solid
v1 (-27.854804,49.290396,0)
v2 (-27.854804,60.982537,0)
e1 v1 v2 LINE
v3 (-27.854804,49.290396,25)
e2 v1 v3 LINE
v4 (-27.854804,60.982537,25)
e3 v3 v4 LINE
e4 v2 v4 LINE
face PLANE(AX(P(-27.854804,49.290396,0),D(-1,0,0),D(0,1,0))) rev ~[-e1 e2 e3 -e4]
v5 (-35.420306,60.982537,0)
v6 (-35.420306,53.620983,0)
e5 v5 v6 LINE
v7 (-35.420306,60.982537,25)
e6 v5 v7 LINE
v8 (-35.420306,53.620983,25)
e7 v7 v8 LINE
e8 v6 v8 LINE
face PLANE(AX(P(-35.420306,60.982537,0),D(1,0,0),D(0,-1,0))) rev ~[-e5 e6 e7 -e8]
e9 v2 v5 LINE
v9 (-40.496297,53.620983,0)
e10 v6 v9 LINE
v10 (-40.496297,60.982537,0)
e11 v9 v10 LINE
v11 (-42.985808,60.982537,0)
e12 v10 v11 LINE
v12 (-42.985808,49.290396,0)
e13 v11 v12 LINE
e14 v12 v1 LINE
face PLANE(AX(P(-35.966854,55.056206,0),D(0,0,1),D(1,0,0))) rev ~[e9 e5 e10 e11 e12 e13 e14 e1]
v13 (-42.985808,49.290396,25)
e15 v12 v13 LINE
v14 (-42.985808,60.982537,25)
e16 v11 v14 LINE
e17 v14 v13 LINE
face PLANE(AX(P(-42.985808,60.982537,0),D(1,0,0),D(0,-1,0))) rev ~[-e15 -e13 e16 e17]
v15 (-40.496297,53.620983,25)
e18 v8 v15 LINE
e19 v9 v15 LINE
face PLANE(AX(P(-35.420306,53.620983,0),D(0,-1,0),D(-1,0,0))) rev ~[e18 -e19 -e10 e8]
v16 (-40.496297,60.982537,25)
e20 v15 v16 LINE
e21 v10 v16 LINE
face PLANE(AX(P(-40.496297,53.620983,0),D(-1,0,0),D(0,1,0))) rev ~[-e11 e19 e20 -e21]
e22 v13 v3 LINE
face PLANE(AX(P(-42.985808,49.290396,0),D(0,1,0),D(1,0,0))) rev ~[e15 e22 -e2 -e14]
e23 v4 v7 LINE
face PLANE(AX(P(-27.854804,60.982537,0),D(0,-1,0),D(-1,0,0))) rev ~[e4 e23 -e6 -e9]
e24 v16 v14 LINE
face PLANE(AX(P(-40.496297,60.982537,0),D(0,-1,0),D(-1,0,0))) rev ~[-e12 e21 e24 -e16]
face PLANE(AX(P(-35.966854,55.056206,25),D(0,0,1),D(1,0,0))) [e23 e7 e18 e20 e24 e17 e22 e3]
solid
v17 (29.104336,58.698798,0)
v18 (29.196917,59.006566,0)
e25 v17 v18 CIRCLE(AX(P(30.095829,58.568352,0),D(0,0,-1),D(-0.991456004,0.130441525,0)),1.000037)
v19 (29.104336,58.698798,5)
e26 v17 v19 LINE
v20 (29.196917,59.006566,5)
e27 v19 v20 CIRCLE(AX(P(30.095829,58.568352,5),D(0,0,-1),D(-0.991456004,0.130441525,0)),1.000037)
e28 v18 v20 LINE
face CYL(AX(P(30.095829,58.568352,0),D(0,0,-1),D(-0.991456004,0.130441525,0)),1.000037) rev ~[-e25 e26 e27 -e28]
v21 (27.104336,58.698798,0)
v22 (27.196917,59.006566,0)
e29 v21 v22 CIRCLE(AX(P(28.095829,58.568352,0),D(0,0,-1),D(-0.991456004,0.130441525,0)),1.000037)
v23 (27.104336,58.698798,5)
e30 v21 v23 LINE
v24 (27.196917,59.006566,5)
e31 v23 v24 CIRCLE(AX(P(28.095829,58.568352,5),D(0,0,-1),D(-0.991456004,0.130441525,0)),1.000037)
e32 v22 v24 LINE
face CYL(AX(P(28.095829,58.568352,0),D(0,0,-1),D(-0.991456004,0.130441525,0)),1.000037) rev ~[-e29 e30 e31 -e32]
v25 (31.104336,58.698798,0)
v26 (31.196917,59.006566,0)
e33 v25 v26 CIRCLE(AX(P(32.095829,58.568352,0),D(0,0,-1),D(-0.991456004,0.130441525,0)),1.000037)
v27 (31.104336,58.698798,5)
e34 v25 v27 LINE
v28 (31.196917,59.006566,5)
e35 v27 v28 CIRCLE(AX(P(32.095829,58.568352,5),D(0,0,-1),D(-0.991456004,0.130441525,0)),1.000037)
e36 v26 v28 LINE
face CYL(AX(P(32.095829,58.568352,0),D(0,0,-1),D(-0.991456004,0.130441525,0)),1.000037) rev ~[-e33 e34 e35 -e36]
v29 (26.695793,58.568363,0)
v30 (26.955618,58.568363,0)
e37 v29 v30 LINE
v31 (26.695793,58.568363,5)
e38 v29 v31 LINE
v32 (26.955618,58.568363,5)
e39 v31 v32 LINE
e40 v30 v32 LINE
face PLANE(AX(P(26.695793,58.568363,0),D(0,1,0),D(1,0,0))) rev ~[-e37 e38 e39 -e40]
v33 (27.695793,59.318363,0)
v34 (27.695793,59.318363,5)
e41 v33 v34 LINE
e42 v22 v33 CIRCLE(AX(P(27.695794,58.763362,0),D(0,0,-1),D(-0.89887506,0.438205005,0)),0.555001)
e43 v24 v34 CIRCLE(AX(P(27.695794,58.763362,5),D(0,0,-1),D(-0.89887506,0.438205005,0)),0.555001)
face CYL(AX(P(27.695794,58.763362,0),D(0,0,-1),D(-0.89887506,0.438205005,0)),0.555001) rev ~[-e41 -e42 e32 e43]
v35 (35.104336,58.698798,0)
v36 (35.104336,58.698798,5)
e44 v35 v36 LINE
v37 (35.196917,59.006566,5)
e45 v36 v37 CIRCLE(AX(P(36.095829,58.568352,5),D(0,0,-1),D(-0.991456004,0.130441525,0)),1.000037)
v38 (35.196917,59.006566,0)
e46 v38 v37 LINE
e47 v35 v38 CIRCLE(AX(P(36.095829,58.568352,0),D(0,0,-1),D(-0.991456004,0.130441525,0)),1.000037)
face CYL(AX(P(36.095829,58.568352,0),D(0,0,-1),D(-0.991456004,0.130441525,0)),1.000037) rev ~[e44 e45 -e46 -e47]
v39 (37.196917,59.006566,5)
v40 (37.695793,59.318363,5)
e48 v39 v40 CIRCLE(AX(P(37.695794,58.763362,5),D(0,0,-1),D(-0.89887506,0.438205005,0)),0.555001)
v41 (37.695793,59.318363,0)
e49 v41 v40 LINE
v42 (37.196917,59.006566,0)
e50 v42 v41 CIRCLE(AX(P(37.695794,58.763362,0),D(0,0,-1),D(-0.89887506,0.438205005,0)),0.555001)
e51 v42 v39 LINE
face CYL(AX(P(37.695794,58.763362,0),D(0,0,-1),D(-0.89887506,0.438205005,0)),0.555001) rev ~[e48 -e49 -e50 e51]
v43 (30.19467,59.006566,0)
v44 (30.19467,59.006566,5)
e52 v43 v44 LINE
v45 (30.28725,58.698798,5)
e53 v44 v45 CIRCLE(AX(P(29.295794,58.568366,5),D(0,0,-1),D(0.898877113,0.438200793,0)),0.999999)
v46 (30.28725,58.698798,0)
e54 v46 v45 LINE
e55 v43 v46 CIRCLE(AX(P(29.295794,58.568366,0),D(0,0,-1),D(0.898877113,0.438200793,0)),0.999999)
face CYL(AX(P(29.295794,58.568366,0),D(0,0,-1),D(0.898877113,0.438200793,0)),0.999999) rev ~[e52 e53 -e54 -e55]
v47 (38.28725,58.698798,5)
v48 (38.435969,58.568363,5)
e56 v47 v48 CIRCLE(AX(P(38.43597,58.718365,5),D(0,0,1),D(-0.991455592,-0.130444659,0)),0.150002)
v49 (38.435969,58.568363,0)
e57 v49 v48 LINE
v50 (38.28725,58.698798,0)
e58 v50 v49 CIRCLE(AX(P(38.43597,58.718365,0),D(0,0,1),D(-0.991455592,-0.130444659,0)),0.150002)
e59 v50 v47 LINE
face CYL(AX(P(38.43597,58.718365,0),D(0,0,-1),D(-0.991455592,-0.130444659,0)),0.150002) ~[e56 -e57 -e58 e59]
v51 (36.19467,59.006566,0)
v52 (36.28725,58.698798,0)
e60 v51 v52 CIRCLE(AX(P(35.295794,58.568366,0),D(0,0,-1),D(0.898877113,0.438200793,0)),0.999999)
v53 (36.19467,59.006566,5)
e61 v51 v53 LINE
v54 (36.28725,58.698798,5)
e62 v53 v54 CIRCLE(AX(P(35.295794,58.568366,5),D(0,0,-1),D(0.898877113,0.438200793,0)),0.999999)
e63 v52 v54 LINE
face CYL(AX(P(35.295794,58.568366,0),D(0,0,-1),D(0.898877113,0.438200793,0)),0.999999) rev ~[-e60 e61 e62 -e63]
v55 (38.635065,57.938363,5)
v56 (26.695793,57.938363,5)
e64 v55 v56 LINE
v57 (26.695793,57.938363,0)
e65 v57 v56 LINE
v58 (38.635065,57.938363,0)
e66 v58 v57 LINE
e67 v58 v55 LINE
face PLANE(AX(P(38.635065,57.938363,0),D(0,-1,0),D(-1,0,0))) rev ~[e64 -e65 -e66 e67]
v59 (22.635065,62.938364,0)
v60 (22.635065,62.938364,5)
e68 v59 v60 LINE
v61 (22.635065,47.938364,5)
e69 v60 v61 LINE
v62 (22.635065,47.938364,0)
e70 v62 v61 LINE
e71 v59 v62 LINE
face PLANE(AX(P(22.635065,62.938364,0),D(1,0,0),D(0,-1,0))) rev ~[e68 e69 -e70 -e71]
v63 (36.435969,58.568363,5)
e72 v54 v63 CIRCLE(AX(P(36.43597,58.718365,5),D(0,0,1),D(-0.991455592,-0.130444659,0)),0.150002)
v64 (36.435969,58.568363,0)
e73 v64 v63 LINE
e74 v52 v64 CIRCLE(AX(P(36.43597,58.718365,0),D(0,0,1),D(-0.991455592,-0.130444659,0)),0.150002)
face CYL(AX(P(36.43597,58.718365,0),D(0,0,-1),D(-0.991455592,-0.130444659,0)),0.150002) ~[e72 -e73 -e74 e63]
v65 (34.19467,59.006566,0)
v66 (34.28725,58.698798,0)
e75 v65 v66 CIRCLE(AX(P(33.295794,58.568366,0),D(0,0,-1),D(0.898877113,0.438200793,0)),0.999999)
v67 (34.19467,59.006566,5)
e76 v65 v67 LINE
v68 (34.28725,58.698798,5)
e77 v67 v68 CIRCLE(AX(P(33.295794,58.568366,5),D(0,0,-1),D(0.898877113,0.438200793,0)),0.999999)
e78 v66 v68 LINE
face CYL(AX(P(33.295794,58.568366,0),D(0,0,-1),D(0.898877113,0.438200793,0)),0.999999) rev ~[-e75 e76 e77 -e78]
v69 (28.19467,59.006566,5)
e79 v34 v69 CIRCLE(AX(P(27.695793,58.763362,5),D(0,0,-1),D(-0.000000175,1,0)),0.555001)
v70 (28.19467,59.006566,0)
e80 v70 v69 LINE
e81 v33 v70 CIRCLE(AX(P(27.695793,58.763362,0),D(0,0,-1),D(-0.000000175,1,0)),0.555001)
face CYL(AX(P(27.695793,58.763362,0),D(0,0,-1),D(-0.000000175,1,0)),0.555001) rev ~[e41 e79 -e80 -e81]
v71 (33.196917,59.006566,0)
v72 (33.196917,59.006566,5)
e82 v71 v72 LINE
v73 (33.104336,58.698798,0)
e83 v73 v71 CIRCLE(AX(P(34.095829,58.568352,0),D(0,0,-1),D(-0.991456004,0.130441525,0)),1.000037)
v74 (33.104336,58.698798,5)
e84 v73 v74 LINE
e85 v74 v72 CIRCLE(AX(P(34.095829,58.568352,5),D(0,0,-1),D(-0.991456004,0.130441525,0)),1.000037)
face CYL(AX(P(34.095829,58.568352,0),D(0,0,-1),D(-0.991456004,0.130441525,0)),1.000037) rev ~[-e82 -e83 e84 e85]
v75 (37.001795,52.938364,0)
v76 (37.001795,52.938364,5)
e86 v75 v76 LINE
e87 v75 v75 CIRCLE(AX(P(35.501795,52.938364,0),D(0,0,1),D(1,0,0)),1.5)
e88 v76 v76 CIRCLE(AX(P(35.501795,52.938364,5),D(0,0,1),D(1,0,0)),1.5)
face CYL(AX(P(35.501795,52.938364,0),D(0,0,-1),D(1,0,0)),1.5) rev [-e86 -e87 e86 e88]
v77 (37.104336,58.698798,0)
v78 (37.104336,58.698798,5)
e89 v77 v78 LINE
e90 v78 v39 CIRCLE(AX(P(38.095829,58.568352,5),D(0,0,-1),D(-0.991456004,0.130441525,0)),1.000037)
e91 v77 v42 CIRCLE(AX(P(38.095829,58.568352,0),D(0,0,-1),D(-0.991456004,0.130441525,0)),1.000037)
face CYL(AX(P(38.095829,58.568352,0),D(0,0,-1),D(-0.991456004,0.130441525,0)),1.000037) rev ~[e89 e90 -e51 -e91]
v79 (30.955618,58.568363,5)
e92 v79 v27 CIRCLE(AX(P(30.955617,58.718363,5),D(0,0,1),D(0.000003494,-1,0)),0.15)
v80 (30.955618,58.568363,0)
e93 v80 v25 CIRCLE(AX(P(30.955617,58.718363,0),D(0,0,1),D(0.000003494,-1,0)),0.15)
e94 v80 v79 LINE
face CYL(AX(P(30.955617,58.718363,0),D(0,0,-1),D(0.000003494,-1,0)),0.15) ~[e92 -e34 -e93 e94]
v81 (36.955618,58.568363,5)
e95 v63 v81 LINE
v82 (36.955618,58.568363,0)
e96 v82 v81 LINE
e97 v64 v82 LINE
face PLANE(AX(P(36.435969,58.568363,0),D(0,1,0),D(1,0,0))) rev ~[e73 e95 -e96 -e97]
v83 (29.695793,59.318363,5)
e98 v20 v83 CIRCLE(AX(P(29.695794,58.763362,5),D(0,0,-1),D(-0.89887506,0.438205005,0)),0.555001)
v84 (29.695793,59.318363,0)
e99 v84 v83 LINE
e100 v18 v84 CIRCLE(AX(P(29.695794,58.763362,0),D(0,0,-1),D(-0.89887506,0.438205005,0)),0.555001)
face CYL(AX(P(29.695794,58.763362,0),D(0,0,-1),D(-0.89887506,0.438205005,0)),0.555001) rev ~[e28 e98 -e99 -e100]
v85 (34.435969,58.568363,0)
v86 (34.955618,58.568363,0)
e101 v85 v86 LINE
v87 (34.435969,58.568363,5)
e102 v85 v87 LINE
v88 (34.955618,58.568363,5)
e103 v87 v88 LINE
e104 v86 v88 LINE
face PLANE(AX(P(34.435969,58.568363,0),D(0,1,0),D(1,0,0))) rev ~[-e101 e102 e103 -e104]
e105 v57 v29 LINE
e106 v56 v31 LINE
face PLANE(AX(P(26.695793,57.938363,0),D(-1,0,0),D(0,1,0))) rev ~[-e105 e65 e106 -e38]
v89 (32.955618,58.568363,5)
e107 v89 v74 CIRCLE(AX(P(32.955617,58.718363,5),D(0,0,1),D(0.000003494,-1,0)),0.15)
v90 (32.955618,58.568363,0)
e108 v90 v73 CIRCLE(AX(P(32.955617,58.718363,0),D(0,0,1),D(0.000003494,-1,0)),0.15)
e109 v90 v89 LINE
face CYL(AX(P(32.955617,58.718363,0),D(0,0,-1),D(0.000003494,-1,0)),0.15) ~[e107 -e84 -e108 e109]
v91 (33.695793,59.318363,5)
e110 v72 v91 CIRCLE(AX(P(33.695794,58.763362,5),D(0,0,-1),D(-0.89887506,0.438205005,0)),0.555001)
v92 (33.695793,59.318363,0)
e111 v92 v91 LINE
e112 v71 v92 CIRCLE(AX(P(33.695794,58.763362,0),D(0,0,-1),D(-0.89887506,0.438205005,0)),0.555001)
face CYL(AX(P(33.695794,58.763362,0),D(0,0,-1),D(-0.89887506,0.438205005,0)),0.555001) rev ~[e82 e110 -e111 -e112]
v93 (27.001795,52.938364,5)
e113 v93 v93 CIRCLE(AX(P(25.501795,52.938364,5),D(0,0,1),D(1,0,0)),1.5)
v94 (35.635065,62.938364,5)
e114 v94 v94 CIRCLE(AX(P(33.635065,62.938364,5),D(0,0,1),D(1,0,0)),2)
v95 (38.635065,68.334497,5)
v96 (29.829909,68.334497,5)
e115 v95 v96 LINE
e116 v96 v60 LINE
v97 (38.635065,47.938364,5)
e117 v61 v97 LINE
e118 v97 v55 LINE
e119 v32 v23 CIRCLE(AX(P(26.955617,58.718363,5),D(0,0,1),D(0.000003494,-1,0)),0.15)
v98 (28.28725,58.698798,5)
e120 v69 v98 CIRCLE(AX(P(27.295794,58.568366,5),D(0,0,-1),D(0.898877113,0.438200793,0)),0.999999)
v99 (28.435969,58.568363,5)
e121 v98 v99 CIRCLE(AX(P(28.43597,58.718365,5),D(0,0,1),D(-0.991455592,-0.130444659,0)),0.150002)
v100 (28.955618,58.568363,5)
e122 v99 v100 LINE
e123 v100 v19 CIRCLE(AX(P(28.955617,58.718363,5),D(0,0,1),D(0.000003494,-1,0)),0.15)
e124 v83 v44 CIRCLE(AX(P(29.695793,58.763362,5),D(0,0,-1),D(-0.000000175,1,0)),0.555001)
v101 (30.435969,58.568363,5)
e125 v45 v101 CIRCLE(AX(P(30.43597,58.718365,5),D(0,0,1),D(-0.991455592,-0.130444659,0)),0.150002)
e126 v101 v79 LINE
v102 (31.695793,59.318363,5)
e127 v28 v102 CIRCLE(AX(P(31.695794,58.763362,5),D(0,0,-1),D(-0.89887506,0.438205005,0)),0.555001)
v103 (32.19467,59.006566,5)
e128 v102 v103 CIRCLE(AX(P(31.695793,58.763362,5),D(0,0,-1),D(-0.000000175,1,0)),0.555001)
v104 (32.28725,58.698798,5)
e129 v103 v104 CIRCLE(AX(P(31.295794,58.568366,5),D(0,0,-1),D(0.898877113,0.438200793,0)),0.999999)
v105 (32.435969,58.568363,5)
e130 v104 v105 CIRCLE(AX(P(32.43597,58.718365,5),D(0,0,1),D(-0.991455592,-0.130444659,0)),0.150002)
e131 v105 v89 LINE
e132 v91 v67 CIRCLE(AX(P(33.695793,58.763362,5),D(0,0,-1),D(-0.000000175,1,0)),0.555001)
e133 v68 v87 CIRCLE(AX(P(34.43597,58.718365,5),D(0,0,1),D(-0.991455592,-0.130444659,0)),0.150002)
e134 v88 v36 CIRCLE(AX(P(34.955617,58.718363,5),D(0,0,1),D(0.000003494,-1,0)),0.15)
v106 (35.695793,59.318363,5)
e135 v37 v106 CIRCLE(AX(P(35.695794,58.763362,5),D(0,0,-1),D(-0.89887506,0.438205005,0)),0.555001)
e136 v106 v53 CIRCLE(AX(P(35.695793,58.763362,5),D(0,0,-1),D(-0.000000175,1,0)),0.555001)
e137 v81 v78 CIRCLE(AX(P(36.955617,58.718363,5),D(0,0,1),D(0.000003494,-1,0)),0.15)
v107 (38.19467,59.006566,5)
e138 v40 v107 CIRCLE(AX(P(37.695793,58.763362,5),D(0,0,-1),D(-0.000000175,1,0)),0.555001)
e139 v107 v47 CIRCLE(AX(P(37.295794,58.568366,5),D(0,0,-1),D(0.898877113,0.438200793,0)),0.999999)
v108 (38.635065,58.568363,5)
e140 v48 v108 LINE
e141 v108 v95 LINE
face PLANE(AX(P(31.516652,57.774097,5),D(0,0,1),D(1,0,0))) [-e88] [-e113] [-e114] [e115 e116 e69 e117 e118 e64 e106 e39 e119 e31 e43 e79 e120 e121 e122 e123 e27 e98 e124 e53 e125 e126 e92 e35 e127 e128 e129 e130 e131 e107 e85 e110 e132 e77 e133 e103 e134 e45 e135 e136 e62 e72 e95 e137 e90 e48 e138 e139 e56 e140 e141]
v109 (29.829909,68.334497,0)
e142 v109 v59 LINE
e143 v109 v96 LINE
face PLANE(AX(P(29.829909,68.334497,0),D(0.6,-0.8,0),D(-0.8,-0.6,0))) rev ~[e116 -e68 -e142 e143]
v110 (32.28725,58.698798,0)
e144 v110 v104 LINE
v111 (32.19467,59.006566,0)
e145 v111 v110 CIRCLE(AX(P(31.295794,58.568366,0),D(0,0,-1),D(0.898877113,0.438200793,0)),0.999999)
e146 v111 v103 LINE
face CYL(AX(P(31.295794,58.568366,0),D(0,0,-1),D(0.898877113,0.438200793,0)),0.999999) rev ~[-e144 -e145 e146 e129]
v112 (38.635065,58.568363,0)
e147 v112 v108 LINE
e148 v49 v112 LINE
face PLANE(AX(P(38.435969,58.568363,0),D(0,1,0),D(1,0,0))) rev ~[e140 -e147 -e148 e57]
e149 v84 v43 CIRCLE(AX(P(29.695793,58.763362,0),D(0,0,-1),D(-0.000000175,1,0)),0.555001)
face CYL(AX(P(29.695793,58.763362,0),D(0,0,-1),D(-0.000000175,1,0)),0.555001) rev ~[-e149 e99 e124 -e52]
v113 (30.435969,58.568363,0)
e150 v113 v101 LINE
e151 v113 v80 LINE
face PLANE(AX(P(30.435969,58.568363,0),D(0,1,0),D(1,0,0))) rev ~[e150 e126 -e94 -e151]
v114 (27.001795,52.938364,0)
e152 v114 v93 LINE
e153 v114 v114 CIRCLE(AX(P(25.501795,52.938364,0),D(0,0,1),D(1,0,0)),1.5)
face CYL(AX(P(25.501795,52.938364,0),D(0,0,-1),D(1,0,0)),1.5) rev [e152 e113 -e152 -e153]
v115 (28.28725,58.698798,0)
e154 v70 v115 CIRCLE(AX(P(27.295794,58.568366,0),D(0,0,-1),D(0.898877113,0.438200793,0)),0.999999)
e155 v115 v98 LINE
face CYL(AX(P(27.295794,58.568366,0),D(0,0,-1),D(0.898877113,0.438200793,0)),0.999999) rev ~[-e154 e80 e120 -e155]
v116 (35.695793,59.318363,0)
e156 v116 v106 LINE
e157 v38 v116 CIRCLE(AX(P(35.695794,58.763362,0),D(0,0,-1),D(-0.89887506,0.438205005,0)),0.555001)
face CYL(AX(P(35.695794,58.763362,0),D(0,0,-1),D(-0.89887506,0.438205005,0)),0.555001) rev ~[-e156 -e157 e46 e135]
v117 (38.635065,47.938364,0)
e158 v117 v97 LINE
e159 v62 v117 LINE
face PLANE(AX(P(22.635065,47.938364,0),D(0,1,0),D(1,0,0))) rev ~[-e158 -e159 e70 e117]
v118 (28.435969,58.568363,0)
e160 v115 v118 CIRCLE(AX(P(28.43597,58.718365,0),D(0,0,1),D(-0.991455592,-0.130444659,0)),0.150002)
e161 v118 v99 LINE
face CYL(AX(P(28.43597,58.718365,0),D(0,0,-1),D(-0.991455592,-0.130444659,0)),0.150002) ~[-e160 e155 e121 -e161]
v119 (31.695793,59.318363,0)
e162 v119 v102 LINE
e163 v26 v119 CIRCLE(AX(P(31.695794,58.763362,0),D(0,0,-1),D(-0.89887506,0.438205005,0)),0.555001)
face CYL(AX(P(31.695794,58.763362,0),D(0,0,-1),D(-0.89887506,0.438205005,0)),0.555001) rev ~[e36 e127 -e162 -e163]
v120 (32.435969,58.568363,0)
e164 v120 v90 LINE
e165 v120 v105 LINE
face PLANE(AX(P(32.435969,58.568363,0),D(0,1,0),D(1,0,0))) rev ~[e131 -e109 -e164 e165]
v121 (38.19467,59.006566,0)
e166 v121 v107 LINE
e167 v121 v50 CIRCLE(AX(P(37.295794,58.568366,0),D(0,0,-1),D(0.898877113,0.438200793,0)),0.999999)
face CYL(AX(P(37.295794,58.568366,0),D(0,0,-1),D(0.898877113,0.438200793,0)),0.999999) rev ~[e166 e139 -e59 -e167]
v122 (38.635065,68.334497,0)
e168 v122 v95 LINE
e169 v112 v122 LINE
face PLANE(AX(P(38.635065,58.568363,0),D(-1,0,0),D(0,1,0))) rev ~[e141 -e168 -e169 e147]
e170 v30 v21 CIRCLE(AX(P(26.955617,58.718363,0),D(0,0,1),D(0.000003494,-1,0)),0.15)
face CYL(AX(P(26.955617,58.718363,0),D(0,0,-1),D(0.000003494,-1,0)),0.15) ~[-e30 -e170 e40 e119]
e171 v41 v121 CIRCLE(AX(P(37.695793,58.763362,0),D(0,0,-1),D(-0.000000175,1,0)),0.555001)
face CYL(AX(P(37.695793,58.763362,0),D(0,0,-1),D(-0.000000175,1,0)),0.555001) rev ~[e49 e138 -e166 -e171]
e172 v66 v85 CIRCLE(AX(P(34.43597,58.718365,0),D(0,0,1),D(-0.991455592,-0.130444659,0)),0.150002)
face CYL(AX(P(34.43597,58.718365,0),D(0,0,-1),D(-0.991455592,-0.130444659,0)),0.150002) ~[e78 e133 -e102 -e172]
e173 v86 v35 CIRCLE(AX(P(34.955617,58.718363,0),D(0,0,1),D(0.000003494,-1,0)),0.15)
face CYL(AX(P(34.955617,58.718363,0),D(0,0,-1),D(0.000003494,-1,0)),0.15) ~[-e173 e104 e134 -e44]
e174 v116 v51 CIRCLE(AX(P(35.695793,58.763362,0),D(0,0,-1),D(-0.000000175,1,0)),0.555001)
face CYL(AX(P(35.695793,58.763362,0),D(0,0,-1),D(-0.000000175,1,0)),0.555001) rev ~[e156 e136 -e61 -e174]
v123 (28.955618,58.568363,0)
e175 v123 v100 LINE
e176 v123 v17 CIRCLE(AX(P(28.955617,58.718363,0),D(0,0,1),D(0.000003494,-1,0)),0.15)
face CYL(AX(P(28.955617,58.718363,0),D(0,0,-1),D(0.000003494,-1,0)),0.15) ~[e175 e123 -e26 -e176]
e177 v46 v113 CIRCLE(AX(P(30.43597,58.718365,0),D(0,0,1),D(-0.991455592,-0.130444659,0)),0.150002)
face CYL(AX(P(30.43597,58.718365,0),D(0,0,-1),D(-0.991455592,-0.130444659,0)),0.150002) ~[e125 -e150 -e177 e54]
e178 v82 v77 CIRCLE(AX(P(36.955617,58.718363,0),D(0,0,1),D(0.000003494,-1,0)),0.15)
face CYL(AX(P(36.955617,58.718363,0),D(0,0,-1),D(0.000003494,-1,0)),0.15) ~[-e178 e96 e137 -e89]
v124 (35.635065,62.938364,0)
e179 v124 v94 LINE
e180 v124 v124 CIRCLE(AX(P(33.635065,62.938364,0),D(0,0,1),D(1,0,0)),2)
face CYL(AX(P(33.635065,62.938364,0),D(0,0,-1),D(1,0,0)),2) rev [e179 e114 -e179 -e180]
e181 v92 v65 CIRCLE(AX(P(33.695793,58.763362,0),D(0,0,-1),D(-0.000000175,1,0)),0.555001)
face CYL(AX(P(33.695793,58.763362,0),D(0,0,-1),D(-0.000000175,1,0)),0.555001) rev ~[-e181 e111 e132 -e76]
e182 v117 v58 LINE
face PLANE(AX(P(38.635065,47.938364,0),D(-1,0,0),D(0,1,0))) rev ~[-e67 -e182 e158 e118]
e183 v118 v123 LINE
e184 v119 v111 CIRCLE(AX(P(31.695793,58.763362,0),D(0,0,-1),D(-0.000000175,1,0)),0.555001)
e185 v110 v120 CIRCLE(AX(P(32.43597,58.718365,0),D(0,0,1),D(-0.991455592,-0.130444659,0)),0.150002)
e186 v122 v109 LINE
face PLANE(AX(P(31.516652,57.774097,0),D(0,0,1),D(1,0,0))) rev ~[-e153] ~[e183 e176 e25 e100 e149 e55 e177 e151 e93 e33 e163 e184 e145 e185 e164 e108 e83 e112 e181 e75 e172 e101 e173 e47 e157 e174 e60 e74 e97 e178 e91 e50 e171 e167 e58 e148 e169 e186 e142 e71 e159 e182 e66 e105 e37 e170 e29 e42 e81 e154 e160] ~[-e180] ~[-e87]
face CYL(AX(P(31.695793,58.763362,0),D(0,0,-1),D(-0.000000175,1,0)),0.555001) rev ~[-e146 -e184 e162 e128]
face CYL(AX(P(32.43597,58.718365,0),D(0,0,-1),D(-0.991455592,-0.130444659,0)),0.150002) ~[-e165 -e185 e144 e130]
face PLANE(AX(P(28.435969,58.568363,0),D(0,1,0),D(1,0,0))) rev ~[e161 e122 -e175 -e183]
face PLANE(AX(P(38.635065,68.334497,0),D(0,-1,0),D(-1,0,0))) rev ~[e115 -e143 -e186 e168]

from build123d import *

# Parameters (mm, degrees)
F0_R     = 1.5
F0_R_2   = 2
F1_DEPTH = 5
F3_DEPTH = 25


with BuildPart() as f1:
    # F0 (on Top) → F1 (new body)
    with BuildSketch(Plane.XY):
        with BuildLine():
            Line((22.635065, 47.938364), (38.635065, 47.938364))
            Line((38.635065, 47.938364), (38.635065, 57.938363))
            Line((38.635065, 57.938363), (37.695793, 57.938363))
            Line((37.695793, 57.938363), (36.695793, 57.938363))
            Line((36.695793, 57.938363), (35.695793, 57.938363))
            Line((35.695793, 57.938363), (34.695793, 57.938363))
            Line((34.695793, 57.938363), (33.695793, 57.938363))
            Line((33.695793, 57.938363), (32.695793, 57.938363))
            Line((32.695793, 57.938363), (31.695793, 57.938363))
            Line((31.695793, 57.938363), (30.695793, 57.938363))
            Line((30.695793, 57.938363), (29.695793, 57.938363))
            Line((29.695793, 57.938363), (28.695793, 57.938363))
            Line((28.695793, 57.938363), (27.695793, 57.938363))
            Line((27.695793, 57.938363), (26.695793, 57.938363))
            Line((26.695793, 57.938363), (26.695793, 58.568363))
            Line((26.695793, 58.568363), (26.955618, 58.568363))
            ThreePointArc((26.955618, 58.568363), (27.054525, 58.605592), (27.104336, 58.698798))
            ThreePointArc((27.104336, 58.698798), (27.138182, 58.856426), (27.196917, 59.006566))
            ThreePointArc((27.196917, 59.006566), (27.401644, 59.234002), (27.695793, 59.318363))
            ThreePointArc((27.695793, 59.318363), (27.989943, 59.234002), (28.19467, 59.006566))
            ThreePointArc((28.19467, 59.006566), (28.253405, 58.856426), (28.28725, 58.698798))
            ThreePointArc((28.28725, 58.698798), (28.337062, 58.605592), (28.435969, 58.568363))
            Line((28.435969, 58.568363), (28.695793, 58.568363))
            Line((28.695793, 58.568363), (28.955618, 58.568363))
            ThreePointArc((28.955618, 58.568363), (29.054525, 58.605592), (29.104336, 58.698798))
            ThreePointArc((29.104336, 58.698798), (29.138182, 58.856426), (29.196917, 59.006566))
            ThreePointArc((29.196917, 59.006566), (29.401644, 59.234002), (29.695793, 59.318363))
            ThreePointArc((29.695793, 59.318363), (29.989943, 59.234002), (30.19467, 59.006566))
            ThreePointArc((30.19467, 59.006566), (30.253405, 58.856426), (30.28725, 58.698798))
            ThreePointArc((30.28725, 58.698798), (30.337062, 58.605592), (30.435969, 58.568363))
            Line((30.435969, 58.568363), (30.695793, 58.568363))
            Line((30.695793, 58.568363), (30.955618, 58.568363))
            ThreePointArc((30.955618, 58.568363), (31.054525, 58.605592), (31.104336, 58.698798))
            ThreePointArc((31.104336, 58.698798), (31.138182, 58.856426), (31.196917, 59.006566))
            ThreePointArc((31.196917, 59.006566), (31.401644, 59.234002), (31.695793, 59.318363))
            ThreePointArc((31.695793, 59.318363), (31.989943, 59.234002), (32.19467, 59.006566))
            ThreePointArc((32.19467, 59.006566), (32.253405, 58.856426), (32.28725, 58.698798))
            ThreePointArc((32.28725, 58.698798), (32.337062, 58.605592), (32.435969, 58.568363))
            Line((32.435969, 58.568363), (32.695793, 58.568363))
            Line((32.695793, 58.568363), (32.955618, 58.568363))
            ThreePointArc((32.955618, 58.568363), (33.054525, 58.605592), (33.104336, 58.698798))
            ThreePointArc((33.104336, 58.698798), (33.138182, 58.856426), (33.196917, 59.006566))
            ThreePointArc((33.196917, 59.006566), (33.401644, 59.234002), (33.695793, 59.318363))
            ThreePointArc((33.695793, 59.318363), (33.989943, 59.234002), (34.19467, 59.006566))
            ThreePointArc((34.19467, 59.006566), (34.253405, 58.856426), (34.28725, 58.698798))
            ThreePointArc((34.28725, 58.698798), (34.337062, 58.605592), (34.435969, 58.568363))
            Line((34.435969, 58.568363), (34.695793, 58.568363))
            Line((34.695793, 58.568363), (34.955618, 58.568363))
            ThreePointArc((34.955618, 58.568363), (35.054525, 58.605592), (35.104336, 58.698798))
            ThreePointArc((35.104336, 58.698798), (35.138182, 58.856426), (35.196917, 59.006566))
            ThreePointArc((35.196917, 59.006566), (35.401644, 59.234002), (35.695793, 59.318363))
            ThreePointArc((35.695793, 59.318363), (35.989943, 59.234002), (36.19467, 59.006566))
            ThreePointArc((36.19467, 59.006566), (36.253405, 58.856426), (36.28725, 58.698798))
            ThreePointArc((36.28725, 58.698798), (36.337062, 58.605592), (36.435969, 58.568363))
            Line((36.435969, 58.568363), (36.695793, 58.568363))
            Line((36.695793, 58.568363), (36.955618, 58.568363))
            ThreePointArc((36.955618, 58.568363), (37.054525, 58.605592), (37.104336, 58.698798))
            ThreePointArc((37.104336, 58.698798), (37.138182, 58.856426), (37.196917, 59.006566))
            ThreePointArc((37.196917, 59.006566), (37.401644, 59.234002), (37.695793, 59.318363))
            ThreePointArc((37.695793, 59.318363), (37.989943, 59.234002), (38.19467, 59.006566))
            ThreePointArc((38.19467, 59.006566), (38.253405, 58.856426), (38.28725, 58.698798))
            ThreePointArc((38.28725, 58.698798), (38.337062, 58.605592), (38.435969, 58.568363))
            Line((38.435969, 58.568363), (38.635065, 58.568363))
            Line((38.635065, 58.568363), (38.635065, 68.334497))
            Line((38.635065, 68.334497), (29.829909, 68.334497))
            Line((29.829909, 68.334497), (22.635065, 62.938364))
            Line((22.635065, 62.938364), (22.635065, 47.938364))
        make_face()
        with Locations((25.501795, 52.938364)):
            Circle(F0_R, mode=Mode.SUBTRACT)
        with Locations((35.501795, 52.938364)):
            Circle(F0_R, mode=Mode.SUBTRACT)
        with Locations((33.635065, 62.938364)):
            Circle(F0_R_2, mode=Mode.SUBTRACT)
    extrude(amount=F1_DEPTH)


with BuildPart() as f3:
    # F2 (on Top) → F3 (new body)
    with BuildSketch(Plane.XY):
        Polygon((-40.496297, 60.982537), (-42.985808, 60.982537), (-42.985808, 49.290396), (-27.854804, 49.290396), (-27.854804, 60.982537), (-35.420306, 60.982537), (-35.420306, 53.620983), (-40.496297, 53.620983), align=None)
    extrude(amount=F3_DEPTH)


solid = Compound([f1.part, f3.part])
